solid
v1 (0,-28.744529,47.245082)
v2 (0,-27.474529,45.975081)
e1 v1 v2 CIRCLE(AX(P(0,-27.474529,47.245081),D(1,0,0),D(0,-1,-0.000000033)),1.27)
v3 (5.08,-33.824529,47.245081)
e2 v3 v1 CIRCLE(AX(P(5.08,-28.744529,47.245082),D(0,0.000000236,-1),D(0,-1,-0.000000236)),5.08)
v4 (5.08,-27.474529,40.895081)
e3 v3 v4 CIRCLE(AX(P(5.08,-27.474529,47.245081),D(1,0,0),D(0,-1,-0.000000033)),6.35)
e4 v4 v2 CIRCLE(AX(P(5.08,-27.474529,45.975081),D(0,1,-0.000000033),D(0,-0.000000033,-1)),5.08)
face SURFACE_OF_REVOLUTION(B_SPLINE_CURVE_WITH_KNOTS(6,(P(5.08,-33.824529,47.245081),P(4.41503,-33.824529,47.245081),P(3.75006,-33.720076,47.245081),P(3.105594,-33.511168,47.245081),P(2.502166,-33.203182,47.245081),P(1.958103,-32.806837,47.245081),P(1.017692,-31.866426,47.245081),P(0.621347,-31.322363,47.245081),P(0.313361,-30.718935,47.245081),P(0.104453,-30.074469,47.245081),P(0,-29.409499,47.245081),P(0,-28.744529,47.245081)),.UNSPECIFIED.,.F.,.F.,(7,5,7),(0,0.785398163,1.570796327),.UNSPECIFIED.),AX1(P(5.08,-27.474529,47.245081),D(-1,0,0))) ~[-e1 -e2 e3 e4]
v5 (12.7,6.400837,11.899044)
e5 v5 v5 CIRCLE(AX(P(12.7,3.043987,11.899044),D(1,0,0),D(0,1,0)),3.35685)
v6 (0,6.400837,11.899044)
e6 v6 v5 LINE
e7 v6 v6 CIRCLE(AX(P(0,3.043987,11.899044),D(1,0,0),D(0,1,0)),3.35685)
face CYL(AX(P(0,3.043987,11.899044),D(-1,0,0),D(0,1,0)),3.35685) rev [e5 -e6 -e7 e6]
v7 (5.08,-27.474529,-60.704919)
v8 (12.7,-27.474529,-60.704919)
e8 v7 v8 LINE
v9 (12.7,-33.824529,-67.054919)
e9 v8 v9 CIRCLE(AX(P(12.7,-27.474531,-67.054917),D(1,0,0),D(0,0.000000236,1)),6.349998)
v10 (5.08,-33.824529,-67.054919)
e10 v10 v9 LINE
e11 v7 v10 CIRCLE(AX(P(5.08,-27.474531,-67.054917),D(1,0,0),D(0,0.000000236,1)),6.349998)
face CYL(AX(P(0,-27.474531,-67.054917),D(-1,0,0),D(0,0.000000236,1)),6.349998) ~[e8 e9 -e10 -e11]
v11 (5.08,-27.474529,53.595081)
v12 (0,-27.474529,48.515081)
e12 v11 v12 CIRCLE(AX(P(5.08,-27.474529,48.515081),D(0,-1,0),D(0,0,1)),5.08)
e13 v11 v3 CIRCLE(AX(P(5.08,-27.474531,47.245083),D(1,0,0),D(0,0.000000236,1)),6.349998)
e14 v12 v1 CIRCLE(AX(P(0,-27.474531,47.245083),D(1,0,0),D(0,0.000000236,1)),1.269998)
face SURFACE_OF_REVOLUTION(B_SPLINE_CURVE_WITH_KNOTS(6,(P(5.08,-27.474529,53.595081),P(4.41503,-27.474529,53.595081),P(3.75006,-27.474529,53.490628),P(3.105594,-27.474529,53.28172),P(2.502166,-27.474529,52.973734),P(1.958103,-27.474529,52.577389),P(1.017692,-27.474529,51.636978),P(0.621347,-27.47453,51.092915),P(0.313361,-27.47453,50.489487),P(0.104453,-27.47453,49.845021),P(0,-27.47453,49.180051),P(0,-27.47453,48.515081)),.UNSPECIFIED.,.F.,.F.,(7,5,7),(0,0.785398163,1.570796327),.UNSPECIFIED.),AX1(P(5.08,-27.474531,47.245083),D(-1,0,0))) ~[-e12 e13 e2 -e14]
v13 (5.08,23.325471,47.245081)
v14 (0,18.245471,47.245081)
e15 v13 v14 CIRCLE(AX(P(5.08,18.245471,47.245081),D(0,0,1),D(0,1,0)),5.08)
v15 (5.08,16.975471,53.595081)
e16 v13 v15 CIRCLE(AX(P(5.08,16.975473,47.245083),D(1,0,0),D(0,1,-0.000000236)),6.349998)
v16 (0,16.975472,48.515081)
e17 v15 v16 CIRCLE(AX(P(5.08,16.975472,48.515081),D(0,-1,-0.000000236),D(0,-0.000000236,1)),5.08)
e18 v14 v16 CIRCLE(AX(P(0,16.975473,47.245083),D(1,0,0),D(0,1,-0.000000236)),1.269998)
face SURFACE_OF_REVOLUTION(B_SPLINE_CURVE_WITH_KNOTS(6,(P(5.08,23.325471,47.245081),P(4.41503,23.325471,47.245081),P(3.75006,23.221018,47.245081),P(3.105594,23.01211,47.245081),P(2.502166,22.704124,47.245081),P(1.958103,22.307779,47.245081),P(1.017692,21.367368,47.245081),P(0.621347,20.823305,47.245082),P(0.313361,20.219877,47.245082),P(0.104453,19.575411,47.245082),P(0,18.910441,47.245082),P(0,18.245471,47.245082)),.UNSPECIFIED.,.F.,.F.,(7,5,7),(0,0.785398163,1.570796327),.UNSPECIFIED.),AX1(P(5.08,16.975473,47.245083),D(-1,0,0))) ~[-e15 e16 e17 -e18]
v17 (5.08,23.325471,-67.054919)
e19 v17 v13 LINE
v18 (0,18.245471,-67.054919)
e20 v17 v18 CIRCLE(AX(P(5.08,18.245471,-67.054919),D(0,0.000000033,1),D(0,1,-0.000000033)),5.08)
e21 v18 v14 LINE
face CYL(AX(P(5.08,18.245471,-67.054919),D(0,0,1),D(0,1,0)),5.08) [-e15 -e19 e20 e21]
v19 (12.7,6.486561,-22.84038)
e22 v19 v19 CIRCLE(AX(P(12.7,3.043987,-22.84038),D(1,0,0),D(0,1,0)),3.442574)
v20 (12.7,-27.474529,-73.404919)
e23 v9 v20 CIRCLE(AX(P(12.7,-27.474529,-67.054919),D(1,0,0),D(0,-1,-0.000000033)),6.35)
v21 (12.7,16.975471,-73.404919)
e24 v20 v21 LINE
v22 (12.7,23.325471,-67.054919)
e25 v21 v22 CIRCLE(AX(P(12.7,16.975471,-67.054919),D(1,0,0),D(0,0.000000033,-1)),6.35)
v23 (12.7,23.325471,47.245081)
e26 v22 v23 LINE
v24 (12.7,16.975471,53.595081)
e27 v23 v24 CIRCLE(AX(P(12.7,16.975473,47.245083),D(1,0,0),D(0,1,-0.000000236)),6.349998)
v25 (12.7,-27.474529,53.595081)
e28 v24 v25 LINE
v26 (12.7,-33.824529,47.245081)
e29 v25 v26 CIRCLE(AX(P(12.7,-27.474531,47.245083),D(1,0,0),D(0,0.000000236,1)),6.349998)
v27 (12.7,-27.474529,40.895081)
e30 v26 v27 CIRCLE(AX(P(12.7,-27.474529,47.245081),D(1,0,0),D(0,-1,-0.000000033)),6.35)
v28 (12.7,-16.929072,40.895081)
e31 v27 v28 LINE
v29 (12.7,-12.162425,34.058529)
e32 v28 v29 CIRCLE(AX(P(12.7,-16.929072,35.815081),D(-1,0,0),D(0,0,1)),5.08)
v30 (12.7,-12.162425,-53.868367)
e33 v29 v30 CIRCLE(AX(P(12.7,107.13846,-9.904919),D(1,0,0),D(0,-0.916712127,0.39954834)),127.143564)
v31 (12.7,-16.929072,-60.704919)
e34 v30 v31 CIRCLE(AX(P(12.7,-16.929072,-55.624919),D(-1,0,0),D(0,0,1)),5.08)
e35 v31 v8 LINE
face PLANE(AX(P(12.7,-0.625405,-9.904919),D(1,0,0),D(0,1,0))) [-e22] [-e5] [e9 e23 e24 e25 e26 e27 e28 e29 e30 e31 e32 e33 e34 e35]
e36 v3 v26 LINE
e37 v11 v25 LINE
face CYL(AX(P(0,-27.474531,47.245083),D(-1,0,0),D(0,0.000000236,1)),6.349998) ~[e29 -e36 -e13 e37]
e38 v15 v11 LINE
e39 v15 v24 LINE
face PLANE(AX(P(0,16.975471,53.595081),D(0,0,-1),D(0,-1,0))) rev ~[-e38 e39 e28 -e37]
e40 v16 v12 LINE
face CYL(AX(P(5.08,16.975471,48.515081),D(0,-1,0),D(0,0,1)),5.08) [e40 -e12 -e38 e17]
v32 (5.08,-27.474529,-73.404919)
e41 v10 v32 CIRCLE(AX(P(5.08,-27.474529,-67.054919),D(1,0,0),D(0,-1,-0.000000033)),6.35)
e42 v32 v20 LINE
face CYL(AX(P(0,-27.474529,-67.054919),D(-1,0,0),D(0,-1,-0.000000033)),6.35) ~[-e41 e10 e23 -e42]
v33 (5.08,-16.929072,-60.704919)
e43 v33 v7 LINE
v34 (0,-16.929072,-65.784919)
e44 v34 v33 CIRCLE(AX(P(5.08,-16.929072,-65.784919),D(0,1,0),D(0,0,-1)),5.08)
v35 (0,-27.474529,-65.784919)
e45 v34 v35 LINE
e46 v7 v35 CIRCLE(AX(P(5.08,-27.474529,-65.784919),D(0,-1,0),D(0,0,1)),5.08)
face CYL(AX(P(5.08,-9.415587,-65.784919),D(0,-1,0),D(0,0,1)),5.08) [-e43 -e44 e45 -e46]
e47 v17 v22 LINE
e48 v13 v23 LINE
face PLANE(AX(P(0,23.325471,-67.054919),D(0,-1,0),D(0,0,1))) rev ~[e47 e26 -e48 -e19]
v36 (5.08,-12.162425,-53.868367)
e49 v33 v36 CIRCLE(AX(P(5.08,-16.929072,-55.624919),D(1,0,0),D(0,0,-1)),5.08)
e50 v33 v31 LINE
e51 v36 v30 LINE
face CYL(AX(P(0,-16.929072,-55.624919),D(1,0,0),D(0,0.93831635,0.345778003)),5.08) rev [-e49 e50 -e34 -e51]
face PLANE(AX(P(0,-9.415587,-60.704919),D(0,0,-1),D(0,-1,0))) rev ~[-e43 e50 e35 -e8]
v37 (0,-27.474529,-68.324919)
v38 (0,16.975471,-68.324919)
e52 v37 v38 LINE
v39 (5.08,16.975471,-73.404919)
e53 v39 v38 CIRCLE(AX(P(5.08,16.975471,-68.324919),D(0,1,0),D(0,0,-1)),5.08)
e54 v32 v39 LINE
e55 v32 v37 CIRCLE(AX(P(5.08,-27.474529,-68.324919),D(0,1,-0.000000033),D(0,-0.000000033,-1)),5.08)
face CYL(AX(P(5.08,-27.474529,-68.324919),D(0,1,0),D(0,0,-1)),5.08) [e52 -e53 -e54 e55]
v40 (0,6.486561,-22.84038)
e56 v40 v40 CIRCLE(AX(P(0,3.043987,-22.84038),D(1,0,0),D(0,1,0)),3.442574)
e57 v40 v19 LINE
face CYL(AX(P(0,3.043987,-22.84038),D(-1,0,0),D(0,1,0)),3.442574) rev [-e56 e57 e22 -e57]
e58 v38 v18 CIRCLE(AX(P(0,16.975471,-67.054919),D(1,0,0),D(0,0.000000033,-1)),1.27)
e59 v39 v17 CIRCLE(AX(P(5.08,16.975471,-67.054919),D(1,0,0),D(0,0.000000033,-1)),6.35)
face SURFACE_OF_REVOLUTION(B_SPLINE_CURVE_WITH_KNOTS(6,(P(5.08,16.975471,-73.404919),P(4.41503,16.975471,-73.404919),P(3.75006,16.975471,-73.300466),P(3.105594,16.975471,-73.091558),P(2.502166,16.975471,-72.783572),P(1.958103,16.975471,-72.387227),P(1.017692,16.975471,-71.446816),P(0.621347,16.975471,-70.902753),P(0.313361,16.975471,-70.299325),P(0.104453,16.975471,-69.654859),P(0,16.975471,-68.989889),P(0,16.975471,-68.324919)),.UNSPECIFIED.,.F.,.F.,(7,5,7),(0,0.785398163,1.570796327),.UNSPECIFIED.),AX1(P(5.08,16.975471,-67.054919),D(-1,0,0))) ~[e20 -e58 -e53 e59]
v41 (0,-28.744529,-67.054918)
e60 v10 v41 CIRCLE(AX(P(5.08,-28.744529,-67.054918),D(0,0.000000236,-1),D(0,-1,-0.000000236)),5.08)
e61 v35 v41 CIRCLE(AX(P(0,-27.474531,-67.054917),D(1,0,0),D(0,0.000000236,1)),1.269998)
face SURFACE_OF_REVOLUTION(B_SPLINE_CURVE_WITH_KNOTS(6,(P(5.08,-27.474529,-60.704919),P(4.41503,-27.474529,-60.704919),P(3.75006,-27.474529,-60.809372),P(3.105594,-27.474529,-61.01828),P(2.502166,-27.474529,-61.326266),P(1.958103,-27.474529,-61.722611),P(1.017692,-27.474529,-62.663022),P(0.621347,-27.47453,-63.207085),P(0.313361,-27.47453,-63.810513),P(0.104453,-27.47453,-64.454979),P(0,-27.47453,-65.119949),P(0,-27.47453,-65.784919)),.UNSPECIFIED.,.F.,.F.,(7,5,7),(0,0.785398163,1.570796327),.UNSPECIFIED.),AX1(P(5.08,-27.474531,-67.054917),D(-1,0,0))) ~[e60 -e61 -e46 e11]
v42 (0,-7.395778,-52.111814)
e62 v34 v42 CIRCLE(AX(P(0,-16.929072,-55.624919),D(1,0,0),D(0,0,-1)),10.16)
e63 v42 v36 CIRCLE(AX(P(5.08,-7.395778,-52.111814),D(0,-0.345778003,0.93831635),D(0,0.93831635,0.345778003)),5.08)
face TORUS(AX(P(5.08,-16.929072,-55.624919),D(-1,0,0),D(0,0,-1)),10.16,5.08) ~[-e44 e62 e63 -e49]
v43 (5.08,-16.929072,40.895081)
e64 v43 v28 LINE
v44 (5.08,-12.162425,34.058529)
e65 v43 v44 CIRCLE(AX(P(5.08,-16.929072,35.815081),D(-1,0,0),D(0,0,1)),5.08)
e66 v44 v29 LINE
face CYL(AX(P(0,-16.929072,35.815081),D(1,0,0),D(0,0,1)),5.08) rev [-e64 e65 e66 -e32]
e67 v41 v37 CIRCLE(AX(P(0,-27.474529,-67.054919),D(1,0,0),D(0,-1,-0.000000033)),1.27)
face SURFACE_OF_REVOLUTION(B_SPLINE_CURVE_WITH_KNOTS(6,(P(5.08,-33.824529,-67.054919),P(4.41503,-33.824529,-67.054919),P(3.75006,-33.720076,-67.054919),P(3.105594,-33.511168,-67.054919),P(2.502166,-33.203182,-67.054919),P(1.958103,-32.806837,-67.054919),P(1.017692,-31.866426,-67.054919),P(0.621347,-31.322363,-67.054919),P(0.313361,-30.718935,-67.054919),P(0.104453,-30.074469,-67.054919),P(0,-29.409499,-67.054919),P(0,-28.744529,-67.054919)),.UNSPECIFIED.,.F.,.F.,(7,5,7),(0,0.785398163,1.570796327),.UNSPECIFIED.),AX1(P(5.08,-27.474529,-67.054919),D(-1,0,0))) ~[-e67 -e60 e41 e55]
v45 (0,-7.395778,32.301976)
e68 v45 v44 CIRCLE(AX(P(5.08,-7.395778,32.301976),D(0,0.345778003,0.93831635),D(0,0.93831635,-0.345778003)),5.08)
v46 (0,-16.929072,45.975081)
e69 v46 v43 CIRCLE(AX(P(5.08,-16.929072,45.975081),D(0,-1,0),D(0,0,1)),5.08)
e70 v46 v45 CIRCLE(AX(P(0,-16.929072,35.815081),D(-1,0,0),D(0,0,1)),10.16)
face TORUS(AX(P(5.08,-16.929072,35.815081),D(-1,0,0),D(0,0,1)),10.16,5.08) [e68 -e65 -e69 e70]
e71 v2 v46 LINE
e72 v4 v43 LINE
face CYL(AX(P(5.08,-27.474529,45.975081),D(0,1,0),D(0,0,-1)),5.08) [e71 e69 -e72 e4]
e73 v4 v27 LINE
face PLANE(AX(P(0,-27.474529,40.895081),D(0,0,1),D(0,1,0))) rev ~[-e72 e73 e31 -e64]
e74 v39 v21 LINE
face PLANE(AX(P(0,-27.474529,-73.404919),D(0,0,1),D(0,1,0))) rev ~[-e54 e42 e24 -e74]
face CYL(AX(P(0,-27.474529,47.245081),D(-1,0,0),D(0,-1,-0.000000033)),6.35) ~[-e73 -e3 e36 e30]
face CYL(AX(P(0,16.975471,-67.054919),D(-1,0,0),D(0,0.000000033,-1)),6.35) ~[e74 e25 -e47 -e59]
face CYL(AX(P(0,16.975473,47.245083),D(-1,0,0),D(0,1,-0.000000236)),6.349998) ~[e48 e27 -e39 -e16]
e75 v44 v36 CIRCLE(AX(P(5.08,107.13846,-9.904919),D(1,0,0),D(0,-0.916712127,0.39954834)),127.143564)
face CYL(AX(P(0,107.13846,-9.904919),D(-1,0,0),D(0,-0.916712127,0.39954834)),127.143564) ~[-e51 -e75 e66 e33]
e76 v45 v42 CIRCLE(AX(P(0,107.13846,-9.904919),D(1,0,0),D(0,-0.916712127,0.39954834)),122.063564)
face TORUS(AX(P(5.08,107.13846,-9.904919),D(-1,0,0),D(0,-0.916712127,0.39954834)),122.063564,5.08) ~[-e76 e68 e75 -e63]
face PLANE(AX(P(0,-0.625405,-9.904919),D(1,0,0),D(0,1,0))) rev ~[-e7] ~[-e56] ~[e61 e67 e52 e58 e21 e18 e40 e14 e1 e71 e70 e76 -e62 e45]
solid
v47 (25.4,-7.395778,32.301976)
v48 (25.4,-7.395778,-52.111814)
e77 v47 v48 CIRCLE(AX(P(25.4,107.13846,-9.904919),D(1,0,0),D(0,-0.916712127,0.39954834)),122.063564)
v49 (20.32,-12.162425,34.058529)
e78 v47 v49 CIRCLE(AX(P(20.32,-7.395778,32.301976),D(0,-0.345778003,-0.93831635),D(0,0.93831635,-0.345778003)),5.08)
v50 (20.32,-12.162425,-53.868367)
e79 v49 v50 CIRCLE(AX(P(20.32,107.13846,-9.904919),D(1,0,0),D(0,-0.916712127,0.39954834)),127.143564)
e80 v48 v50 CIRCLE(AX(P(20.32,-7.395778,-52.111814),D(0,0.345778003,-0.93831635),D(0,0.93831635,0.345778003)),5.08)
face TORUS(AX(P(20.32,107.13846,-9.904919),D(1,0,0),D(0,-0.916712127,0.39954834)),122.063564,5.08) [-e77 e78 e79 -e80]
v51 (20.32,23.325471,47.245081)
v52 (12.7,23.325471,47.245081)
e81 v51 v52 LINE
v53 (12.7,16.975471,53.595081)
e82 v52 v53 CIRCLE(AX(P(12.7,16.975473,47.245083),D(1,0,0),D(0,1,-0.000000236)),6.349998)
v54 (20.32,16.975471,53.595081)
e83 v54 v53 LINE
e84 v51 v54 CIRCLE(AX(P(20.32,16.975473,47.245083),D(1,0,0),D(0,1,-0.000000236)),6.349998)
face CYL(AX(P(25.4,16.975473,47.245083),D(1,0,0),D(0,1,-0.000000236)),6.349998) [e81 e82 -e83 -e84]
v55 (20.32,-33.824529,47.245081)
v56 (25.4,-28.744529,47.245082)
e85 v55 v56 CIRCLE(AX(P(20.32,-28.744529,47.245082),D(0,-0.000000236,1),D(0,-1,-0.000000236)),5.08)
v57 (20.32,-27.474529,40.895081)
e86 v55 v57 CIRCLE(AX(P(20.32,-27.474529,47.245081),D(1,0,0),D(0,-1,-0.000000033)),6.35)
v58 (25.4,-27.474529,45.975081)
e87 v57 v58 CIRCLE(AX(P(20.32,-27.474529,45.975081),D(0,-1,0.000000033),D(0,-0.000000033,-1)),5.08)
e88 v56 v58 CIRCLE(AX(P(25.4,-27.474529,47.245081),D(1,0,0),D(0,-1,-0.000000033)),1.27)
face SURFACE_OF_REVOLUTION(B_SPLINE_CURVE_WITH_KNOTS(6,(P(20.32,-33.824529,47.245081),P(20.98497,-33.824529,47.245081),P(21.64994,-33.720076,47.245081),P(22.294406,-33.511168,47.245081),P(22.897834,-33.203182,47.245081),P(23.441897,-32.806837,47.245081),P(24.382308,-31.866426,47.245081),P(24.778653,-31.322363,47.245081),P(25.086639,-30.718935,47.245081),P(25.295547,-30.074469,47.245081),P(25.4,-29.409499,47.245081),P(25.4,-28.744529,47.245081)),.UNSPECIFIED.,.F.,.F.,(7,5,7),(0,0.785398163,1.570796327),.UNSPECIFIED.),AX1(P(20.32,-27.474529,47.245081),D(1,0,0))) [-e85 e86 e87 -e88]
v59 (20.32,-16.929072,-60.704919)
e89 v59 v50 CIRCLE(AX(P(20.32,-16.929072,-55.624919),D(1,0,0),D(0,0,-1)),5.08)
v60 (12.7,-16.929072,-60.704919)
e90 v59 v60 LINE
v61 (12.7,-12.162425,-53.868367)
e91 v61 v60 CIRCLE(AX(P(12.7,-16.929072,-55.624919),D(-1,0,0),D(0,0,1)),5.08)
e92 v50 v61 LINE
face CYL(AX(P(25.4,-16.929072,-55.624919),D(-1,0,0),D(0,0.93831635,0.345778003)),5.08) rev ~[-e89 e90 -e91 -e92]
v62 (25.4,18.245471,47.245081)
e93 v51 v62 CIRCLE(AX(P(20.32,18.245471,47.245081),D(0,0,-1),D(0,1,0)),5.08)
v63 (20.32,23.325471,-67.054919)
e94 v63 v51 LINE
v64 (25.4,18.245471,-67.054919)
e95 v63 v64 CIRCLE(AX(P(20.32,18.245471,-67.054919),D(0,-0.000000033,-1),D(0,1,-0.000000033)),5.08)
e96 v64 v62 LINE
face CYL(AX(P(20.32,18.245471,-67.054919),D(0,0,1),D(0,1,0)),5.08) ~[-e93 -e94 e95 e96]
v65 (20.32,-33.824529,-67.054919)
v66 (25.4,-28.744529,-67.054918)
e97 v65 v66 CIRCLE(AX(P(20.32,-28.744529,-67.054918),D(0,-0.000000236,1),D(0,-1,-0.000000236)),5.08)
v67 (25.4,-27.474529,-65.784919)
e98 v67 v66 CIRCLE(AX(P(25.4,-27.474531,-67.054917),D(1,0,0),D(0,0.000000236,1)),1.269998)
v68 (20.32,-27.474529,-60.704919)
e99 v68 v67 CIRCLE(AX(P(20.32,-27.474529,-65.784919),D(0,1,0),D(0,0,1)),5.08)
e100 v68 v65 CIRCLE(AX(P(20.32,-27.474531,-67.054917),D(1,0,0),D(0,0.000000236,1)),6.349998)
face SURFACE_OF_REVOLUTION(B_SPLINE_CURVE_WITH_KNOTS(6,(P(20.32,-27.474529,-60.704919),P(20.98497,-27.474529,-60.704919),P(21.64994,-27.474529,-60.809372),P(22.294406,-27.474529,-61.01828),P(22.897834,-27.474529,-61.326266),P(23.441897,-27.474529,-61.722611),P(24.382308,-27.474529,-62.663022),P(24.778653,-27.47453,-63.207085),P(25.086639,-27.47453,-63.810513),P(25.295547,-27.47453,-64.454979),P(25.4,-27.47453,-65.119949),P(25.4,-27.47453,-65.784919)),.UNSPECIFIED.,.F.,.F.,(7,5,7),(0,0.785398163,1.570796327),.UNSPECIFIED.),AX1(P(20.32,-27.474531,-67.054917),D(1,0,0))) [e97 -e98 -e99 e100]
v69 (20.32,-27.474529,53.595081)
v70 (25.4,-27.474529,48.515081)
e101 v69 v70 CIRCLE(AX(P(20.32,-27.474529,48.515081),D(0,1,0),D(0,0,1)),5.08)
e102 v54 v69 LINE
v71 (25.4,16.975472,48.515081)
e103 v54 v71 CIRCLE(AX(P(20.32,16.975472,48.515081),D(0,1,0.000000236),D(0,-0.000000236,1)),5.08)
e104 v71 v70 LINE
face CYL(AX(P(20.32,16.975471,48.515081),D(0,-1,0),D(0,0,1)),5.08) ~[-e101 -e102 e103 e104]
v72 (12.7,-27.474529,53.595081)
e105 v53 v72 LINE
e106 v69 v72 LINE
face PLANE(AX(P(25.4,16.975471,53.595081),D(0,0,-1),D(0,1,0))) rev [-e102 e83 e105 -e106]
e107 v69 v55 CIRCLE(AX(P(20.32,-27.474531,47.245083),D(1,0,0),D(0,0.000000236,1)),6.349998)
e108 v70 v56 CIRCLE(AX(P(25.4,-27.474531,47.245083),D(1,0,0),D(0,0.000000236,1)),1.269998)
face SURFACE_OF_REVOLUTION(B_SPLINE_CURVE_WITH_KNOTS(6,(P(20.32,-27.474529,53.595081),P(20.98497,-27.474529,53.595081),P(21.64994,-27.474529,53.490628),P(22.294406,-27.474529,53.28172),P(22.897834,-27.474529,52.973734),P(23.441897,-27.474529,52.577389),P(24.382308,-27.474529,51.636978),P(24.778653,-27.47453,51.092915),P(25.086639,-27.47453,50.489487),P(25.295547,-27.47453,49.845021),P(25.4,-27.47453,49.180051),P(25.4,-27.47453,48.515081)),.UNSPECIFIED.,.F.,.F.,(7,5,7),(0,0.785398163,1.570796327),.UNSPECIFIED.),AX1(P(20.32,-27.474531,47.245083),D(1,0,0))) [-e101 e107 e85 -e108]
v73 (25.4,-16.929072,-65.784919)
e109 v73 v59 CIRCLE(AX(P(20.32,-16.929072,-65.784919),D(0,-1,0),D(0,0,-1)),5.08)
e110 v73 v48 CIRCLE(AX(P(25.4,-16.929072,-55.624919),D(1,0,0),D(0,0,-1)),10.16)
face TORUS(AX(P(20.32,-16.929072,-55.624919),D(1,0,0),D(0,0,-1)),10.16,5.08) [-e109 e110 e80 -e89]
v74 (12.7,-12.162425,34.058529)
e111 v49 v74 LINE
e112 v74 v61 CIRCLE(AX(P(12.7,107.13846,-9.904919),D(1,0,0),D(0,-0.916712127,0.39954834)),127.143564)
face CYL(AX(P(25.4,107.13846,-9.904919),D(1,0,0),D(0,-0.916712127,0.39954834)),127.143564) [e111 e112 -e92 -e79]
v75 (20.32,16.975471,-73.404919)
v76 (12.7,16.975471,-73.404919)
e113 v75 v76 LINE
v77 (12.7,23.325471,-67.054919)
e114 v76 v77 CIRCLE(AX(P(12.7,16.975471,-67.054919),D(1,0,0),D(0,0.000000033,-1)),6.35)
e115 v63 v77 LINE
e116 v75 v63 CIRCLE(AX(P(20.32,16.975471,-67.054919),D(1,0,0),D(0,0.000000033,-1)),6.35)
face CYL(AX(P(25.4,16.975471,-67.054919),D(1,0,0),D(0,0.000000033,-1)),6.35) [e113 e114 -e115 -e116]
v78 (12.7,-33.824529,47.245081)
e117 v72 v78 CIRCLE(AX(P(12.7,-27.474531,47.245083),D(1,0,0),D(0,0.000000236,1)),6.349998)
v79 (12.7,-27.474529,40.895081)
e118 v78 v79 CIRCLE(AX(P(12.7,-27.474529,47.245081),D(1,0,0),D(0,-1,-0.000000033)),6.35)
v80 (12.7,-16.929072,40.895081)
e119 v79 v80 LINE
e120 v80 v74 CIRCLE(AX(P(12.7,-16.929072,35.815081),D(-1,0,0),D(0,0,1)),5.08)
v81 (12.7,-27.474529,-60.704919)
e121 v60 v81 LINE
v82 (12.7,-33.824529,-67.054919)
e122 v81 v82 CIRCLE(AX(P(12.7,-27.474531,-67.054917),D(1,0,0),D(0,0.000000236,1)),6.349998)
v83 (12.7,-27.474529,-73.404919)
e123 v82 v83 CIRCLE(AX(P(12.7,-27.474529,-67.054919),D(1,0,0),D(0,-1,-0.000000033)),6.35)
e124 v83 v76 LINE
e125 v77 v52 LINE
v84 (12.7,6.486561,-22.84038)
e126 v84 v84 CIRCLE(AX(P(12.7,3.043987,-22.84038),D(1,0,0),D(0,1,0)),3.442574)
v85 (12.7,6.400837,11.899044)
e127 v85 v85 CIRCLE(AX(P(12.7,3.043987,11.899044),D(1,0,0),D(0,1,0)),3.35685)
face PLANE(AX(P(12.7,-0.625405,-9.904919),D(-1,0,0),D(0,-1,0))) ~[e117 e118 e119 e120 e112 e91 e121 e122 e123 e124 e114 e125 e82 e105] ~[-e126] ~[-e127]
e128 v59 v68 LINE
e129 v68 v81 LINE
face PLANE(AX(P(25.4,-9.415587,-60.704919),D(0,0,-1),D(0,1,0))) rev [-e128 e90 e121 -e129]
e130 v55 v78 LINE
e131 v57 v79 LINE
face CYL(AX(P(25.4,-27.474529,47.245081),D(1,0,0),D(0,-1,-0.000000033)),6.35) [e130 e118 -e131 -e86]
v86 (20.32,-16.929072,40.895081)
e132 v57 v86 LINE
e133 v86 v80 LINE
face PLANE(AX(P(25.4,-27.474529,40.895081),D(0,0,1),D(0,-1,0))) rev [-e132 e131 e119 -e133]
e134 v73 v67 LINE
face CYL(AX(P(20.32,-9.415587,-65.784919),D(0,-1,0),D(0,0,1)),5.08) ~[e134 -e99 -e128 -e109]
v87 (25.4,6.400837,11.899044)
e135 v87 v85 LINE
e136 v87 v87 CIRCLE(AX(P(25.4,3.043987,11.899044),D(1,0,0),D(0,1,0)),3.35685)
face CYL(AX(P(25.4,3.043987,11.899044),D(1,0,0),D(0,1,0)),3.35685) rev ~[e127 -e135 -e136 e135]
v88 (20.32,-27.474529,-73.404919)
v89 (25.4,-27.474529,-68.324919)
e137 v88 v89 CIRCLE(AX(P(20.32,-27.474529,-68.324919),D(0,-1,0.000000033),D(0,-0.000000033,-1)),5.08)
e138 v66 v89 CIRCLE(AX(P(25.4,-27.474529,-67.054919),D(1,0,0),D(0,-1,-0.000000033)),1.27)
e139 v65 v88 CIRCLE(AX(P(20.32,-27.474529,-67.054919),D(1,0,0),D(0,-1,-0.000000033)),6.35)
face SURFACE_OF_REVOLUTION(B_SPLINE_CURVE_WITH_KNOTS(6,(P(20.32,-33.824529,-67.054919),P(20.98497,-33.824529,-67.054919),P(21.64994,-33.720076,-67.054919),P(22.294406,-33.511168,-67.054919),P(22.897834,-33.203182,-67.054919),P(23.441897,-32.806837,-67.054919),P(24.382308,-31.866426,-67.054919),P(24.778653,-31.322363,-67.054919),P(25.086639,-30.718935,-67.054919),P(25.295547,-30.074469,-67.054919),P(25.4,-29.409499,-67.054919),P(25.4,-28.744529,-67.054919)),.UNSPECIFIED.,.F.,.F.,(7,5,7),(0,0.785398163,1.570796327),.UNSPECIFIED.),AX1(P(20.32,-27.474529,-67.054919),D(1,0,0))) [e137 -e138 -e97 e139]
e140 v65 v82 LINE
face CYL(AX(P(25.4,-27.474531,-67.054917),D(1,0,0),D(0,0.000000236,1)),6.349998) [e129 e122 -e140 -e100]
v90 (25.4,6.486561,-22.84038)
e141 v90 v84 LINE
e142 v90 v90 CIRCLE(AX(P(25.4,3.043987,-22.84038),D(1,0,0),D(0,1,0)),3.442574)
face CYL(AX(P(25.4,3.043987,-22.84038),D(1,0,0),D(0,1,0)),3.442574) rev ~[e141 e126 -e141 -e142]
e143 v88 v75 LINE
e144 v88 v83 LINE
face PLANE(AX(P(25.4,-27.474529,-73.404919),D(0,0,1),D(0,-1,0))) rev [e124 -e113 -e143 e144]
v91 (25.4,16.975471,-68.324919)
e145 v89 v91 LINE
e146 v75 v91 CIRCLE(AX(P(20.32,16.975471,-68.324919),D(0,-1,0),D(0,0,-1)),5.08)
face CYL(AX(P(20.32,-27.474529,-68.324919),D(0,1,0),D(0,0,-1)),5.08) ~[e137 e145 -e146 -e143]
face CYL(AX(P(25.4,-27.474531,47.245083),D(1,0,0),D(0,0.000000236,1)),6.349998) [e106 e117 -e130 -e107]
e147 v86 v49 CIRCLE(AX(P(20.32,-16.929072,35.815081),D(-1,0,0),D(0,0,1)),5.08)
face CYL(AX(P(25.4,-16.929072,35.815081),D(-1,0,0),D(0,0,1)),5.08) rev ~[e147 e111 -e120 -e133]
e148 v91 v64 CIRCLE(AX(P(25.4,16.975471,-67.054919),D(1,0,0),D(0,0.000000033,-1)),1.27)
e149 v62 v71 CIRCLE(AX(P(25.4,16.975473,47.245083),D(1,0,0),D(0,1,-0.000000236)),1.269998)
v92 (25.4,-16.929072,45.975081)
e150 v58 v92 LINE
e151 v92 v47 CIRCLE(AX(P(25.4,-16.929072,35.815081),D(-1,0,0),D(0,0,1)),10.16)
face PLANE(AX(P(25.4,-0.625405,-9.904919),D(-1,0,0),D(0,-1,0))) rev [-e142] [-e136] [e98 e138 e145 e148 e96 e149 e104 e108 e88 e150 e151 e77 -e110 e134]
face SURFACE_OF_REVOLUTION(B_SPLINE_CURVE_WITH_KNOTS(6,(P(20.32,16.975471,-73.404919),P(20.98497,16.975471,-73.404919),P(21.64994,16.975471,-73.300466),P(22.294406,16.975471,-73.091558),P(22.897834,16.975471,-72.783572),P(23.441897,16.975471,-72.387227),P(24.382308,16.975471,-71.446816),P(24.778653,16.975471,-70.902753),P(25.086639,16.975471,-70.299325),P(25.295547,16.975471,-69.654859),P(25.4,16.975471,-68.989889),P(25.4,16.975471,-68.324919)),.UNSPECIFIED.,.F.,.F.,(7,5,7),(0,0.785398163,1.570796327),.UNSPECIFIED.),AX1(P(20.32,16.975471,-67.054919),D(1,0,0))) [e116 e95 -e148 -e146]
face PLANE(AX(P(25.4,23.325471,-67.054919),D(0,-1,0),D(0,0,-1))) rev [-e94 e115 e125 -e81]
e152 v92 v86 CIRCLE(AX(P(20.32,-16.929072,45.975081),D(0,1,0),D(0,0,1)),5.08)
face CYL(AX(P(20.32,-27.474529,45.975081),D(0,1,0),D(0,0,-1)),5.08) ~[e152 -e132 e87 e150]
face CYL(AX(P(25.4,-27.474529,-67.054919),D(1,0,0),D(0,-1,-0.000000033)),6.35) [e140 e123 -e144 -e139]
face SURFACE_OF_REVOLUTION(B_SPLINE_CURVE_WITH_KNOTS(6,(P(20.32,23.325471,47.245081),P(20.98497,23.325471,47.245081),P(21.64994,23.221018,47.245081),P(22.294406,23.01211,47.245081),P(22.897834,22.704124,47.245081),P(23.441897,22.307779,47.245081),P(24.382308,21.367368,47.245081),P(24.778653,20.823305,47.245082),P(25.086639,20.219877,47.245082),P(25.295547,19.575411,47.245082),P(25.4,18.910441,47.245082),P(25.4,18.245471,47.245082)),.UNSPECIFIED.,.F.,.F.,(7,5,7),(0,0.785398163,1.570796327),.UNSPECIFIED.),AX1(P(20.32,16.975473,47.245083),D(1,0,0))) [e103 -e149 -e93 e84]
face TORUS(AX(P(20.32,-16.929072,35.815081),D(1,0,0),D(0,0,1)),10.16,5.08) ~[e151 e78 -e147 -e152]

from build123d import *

# Parameters (mm, degrees)
F0_R     = 3.442574
F0_R_2   = 3.35685
F1_DEPTH = 12.7
F2_R     = 5.08


with BuildPart() as f1:
    # F0 (on Right) → F1 (new body)
    with BuildSketch(Plane.YZ):
        with BuildLine():
            Line((23.325471, -67.054919), (23.325471, 47.245081))
            ThreePointArc((23.325471, 47.245081), (21.465599, 51.73521), (16.975471, 53.595081))
            Line((16.975471, 53.595081), (-27.474529, 53.595081))
            ThreePointArc((-27.474529, 53.595081), (-31.964657, 51.73521), (-33.824529, 47.245081))
            ThreePointArc((-33.824529, 47.245081), (-31.964657, 42.754953), (-27.474529, 40.895081))
            Line((-27.474529, 40.895081), (-9.415587, 40.895081))
            Line((-9.415587, 40.895081), (-9.415587, -60.704919))
            Line((-9.415587, -60.704919), (-27.474529, -60.704919))
            ThreePointArc((-27.474529, -60.704919), (-31.964657, -62.56479), (-33.824529, -67.054919))
            ThreePointArc((-33.824529, -67.054919), (-31.964657, -71.545047), (-27.474529, -73.404919))
            Line((-27.474529, -73.404919), (16.975471, -73.404919))
            ThreePointArc((16.975471, -73.404919), (21.465599, -71.545047), (23.325471, -67.054919))
        make_face()
        with Locations((3.043987, -22.84038)):
            Circle(F0_R, mode=Mode.SUBTRACT)
        with Locations((3.043987, 11.899044)):
            Circle(F0_R_2, mode=Mode.SUBTRACT)
        with BuildLine():
            Line((-9.415587, -60.704919), (-9.415587, 40.895081))
            ThreePointArc((-9.415587, 40.895081), (-20.005104, -9.904919), (-9.415587, -60.704919))
        make_face()
    extrude(amount=F1_DEPTH)

    # F2
    f2_edges = [f1.edges().sort_by_distance(p)[0] for p in [
        (0, -5.249529, 53.595081),
        (0, -20.005104, -9.904919),
        (6.35, -9.415587, 40.895081),
        (6.35, -9.415587, -60.704919),
    ]]
    fillet(f2_edges, radius=F2_R)


with BuildPart() as f3_1:
    # F3: instance of F1
    add(f1.part.mirror(Plane(origin=(12.7, 1.082307, -9.958647), x_dir=(0, 1, 0), z_dir=(1, 0, 0))))


solid = Compound([f1.part, f3_1.part])
